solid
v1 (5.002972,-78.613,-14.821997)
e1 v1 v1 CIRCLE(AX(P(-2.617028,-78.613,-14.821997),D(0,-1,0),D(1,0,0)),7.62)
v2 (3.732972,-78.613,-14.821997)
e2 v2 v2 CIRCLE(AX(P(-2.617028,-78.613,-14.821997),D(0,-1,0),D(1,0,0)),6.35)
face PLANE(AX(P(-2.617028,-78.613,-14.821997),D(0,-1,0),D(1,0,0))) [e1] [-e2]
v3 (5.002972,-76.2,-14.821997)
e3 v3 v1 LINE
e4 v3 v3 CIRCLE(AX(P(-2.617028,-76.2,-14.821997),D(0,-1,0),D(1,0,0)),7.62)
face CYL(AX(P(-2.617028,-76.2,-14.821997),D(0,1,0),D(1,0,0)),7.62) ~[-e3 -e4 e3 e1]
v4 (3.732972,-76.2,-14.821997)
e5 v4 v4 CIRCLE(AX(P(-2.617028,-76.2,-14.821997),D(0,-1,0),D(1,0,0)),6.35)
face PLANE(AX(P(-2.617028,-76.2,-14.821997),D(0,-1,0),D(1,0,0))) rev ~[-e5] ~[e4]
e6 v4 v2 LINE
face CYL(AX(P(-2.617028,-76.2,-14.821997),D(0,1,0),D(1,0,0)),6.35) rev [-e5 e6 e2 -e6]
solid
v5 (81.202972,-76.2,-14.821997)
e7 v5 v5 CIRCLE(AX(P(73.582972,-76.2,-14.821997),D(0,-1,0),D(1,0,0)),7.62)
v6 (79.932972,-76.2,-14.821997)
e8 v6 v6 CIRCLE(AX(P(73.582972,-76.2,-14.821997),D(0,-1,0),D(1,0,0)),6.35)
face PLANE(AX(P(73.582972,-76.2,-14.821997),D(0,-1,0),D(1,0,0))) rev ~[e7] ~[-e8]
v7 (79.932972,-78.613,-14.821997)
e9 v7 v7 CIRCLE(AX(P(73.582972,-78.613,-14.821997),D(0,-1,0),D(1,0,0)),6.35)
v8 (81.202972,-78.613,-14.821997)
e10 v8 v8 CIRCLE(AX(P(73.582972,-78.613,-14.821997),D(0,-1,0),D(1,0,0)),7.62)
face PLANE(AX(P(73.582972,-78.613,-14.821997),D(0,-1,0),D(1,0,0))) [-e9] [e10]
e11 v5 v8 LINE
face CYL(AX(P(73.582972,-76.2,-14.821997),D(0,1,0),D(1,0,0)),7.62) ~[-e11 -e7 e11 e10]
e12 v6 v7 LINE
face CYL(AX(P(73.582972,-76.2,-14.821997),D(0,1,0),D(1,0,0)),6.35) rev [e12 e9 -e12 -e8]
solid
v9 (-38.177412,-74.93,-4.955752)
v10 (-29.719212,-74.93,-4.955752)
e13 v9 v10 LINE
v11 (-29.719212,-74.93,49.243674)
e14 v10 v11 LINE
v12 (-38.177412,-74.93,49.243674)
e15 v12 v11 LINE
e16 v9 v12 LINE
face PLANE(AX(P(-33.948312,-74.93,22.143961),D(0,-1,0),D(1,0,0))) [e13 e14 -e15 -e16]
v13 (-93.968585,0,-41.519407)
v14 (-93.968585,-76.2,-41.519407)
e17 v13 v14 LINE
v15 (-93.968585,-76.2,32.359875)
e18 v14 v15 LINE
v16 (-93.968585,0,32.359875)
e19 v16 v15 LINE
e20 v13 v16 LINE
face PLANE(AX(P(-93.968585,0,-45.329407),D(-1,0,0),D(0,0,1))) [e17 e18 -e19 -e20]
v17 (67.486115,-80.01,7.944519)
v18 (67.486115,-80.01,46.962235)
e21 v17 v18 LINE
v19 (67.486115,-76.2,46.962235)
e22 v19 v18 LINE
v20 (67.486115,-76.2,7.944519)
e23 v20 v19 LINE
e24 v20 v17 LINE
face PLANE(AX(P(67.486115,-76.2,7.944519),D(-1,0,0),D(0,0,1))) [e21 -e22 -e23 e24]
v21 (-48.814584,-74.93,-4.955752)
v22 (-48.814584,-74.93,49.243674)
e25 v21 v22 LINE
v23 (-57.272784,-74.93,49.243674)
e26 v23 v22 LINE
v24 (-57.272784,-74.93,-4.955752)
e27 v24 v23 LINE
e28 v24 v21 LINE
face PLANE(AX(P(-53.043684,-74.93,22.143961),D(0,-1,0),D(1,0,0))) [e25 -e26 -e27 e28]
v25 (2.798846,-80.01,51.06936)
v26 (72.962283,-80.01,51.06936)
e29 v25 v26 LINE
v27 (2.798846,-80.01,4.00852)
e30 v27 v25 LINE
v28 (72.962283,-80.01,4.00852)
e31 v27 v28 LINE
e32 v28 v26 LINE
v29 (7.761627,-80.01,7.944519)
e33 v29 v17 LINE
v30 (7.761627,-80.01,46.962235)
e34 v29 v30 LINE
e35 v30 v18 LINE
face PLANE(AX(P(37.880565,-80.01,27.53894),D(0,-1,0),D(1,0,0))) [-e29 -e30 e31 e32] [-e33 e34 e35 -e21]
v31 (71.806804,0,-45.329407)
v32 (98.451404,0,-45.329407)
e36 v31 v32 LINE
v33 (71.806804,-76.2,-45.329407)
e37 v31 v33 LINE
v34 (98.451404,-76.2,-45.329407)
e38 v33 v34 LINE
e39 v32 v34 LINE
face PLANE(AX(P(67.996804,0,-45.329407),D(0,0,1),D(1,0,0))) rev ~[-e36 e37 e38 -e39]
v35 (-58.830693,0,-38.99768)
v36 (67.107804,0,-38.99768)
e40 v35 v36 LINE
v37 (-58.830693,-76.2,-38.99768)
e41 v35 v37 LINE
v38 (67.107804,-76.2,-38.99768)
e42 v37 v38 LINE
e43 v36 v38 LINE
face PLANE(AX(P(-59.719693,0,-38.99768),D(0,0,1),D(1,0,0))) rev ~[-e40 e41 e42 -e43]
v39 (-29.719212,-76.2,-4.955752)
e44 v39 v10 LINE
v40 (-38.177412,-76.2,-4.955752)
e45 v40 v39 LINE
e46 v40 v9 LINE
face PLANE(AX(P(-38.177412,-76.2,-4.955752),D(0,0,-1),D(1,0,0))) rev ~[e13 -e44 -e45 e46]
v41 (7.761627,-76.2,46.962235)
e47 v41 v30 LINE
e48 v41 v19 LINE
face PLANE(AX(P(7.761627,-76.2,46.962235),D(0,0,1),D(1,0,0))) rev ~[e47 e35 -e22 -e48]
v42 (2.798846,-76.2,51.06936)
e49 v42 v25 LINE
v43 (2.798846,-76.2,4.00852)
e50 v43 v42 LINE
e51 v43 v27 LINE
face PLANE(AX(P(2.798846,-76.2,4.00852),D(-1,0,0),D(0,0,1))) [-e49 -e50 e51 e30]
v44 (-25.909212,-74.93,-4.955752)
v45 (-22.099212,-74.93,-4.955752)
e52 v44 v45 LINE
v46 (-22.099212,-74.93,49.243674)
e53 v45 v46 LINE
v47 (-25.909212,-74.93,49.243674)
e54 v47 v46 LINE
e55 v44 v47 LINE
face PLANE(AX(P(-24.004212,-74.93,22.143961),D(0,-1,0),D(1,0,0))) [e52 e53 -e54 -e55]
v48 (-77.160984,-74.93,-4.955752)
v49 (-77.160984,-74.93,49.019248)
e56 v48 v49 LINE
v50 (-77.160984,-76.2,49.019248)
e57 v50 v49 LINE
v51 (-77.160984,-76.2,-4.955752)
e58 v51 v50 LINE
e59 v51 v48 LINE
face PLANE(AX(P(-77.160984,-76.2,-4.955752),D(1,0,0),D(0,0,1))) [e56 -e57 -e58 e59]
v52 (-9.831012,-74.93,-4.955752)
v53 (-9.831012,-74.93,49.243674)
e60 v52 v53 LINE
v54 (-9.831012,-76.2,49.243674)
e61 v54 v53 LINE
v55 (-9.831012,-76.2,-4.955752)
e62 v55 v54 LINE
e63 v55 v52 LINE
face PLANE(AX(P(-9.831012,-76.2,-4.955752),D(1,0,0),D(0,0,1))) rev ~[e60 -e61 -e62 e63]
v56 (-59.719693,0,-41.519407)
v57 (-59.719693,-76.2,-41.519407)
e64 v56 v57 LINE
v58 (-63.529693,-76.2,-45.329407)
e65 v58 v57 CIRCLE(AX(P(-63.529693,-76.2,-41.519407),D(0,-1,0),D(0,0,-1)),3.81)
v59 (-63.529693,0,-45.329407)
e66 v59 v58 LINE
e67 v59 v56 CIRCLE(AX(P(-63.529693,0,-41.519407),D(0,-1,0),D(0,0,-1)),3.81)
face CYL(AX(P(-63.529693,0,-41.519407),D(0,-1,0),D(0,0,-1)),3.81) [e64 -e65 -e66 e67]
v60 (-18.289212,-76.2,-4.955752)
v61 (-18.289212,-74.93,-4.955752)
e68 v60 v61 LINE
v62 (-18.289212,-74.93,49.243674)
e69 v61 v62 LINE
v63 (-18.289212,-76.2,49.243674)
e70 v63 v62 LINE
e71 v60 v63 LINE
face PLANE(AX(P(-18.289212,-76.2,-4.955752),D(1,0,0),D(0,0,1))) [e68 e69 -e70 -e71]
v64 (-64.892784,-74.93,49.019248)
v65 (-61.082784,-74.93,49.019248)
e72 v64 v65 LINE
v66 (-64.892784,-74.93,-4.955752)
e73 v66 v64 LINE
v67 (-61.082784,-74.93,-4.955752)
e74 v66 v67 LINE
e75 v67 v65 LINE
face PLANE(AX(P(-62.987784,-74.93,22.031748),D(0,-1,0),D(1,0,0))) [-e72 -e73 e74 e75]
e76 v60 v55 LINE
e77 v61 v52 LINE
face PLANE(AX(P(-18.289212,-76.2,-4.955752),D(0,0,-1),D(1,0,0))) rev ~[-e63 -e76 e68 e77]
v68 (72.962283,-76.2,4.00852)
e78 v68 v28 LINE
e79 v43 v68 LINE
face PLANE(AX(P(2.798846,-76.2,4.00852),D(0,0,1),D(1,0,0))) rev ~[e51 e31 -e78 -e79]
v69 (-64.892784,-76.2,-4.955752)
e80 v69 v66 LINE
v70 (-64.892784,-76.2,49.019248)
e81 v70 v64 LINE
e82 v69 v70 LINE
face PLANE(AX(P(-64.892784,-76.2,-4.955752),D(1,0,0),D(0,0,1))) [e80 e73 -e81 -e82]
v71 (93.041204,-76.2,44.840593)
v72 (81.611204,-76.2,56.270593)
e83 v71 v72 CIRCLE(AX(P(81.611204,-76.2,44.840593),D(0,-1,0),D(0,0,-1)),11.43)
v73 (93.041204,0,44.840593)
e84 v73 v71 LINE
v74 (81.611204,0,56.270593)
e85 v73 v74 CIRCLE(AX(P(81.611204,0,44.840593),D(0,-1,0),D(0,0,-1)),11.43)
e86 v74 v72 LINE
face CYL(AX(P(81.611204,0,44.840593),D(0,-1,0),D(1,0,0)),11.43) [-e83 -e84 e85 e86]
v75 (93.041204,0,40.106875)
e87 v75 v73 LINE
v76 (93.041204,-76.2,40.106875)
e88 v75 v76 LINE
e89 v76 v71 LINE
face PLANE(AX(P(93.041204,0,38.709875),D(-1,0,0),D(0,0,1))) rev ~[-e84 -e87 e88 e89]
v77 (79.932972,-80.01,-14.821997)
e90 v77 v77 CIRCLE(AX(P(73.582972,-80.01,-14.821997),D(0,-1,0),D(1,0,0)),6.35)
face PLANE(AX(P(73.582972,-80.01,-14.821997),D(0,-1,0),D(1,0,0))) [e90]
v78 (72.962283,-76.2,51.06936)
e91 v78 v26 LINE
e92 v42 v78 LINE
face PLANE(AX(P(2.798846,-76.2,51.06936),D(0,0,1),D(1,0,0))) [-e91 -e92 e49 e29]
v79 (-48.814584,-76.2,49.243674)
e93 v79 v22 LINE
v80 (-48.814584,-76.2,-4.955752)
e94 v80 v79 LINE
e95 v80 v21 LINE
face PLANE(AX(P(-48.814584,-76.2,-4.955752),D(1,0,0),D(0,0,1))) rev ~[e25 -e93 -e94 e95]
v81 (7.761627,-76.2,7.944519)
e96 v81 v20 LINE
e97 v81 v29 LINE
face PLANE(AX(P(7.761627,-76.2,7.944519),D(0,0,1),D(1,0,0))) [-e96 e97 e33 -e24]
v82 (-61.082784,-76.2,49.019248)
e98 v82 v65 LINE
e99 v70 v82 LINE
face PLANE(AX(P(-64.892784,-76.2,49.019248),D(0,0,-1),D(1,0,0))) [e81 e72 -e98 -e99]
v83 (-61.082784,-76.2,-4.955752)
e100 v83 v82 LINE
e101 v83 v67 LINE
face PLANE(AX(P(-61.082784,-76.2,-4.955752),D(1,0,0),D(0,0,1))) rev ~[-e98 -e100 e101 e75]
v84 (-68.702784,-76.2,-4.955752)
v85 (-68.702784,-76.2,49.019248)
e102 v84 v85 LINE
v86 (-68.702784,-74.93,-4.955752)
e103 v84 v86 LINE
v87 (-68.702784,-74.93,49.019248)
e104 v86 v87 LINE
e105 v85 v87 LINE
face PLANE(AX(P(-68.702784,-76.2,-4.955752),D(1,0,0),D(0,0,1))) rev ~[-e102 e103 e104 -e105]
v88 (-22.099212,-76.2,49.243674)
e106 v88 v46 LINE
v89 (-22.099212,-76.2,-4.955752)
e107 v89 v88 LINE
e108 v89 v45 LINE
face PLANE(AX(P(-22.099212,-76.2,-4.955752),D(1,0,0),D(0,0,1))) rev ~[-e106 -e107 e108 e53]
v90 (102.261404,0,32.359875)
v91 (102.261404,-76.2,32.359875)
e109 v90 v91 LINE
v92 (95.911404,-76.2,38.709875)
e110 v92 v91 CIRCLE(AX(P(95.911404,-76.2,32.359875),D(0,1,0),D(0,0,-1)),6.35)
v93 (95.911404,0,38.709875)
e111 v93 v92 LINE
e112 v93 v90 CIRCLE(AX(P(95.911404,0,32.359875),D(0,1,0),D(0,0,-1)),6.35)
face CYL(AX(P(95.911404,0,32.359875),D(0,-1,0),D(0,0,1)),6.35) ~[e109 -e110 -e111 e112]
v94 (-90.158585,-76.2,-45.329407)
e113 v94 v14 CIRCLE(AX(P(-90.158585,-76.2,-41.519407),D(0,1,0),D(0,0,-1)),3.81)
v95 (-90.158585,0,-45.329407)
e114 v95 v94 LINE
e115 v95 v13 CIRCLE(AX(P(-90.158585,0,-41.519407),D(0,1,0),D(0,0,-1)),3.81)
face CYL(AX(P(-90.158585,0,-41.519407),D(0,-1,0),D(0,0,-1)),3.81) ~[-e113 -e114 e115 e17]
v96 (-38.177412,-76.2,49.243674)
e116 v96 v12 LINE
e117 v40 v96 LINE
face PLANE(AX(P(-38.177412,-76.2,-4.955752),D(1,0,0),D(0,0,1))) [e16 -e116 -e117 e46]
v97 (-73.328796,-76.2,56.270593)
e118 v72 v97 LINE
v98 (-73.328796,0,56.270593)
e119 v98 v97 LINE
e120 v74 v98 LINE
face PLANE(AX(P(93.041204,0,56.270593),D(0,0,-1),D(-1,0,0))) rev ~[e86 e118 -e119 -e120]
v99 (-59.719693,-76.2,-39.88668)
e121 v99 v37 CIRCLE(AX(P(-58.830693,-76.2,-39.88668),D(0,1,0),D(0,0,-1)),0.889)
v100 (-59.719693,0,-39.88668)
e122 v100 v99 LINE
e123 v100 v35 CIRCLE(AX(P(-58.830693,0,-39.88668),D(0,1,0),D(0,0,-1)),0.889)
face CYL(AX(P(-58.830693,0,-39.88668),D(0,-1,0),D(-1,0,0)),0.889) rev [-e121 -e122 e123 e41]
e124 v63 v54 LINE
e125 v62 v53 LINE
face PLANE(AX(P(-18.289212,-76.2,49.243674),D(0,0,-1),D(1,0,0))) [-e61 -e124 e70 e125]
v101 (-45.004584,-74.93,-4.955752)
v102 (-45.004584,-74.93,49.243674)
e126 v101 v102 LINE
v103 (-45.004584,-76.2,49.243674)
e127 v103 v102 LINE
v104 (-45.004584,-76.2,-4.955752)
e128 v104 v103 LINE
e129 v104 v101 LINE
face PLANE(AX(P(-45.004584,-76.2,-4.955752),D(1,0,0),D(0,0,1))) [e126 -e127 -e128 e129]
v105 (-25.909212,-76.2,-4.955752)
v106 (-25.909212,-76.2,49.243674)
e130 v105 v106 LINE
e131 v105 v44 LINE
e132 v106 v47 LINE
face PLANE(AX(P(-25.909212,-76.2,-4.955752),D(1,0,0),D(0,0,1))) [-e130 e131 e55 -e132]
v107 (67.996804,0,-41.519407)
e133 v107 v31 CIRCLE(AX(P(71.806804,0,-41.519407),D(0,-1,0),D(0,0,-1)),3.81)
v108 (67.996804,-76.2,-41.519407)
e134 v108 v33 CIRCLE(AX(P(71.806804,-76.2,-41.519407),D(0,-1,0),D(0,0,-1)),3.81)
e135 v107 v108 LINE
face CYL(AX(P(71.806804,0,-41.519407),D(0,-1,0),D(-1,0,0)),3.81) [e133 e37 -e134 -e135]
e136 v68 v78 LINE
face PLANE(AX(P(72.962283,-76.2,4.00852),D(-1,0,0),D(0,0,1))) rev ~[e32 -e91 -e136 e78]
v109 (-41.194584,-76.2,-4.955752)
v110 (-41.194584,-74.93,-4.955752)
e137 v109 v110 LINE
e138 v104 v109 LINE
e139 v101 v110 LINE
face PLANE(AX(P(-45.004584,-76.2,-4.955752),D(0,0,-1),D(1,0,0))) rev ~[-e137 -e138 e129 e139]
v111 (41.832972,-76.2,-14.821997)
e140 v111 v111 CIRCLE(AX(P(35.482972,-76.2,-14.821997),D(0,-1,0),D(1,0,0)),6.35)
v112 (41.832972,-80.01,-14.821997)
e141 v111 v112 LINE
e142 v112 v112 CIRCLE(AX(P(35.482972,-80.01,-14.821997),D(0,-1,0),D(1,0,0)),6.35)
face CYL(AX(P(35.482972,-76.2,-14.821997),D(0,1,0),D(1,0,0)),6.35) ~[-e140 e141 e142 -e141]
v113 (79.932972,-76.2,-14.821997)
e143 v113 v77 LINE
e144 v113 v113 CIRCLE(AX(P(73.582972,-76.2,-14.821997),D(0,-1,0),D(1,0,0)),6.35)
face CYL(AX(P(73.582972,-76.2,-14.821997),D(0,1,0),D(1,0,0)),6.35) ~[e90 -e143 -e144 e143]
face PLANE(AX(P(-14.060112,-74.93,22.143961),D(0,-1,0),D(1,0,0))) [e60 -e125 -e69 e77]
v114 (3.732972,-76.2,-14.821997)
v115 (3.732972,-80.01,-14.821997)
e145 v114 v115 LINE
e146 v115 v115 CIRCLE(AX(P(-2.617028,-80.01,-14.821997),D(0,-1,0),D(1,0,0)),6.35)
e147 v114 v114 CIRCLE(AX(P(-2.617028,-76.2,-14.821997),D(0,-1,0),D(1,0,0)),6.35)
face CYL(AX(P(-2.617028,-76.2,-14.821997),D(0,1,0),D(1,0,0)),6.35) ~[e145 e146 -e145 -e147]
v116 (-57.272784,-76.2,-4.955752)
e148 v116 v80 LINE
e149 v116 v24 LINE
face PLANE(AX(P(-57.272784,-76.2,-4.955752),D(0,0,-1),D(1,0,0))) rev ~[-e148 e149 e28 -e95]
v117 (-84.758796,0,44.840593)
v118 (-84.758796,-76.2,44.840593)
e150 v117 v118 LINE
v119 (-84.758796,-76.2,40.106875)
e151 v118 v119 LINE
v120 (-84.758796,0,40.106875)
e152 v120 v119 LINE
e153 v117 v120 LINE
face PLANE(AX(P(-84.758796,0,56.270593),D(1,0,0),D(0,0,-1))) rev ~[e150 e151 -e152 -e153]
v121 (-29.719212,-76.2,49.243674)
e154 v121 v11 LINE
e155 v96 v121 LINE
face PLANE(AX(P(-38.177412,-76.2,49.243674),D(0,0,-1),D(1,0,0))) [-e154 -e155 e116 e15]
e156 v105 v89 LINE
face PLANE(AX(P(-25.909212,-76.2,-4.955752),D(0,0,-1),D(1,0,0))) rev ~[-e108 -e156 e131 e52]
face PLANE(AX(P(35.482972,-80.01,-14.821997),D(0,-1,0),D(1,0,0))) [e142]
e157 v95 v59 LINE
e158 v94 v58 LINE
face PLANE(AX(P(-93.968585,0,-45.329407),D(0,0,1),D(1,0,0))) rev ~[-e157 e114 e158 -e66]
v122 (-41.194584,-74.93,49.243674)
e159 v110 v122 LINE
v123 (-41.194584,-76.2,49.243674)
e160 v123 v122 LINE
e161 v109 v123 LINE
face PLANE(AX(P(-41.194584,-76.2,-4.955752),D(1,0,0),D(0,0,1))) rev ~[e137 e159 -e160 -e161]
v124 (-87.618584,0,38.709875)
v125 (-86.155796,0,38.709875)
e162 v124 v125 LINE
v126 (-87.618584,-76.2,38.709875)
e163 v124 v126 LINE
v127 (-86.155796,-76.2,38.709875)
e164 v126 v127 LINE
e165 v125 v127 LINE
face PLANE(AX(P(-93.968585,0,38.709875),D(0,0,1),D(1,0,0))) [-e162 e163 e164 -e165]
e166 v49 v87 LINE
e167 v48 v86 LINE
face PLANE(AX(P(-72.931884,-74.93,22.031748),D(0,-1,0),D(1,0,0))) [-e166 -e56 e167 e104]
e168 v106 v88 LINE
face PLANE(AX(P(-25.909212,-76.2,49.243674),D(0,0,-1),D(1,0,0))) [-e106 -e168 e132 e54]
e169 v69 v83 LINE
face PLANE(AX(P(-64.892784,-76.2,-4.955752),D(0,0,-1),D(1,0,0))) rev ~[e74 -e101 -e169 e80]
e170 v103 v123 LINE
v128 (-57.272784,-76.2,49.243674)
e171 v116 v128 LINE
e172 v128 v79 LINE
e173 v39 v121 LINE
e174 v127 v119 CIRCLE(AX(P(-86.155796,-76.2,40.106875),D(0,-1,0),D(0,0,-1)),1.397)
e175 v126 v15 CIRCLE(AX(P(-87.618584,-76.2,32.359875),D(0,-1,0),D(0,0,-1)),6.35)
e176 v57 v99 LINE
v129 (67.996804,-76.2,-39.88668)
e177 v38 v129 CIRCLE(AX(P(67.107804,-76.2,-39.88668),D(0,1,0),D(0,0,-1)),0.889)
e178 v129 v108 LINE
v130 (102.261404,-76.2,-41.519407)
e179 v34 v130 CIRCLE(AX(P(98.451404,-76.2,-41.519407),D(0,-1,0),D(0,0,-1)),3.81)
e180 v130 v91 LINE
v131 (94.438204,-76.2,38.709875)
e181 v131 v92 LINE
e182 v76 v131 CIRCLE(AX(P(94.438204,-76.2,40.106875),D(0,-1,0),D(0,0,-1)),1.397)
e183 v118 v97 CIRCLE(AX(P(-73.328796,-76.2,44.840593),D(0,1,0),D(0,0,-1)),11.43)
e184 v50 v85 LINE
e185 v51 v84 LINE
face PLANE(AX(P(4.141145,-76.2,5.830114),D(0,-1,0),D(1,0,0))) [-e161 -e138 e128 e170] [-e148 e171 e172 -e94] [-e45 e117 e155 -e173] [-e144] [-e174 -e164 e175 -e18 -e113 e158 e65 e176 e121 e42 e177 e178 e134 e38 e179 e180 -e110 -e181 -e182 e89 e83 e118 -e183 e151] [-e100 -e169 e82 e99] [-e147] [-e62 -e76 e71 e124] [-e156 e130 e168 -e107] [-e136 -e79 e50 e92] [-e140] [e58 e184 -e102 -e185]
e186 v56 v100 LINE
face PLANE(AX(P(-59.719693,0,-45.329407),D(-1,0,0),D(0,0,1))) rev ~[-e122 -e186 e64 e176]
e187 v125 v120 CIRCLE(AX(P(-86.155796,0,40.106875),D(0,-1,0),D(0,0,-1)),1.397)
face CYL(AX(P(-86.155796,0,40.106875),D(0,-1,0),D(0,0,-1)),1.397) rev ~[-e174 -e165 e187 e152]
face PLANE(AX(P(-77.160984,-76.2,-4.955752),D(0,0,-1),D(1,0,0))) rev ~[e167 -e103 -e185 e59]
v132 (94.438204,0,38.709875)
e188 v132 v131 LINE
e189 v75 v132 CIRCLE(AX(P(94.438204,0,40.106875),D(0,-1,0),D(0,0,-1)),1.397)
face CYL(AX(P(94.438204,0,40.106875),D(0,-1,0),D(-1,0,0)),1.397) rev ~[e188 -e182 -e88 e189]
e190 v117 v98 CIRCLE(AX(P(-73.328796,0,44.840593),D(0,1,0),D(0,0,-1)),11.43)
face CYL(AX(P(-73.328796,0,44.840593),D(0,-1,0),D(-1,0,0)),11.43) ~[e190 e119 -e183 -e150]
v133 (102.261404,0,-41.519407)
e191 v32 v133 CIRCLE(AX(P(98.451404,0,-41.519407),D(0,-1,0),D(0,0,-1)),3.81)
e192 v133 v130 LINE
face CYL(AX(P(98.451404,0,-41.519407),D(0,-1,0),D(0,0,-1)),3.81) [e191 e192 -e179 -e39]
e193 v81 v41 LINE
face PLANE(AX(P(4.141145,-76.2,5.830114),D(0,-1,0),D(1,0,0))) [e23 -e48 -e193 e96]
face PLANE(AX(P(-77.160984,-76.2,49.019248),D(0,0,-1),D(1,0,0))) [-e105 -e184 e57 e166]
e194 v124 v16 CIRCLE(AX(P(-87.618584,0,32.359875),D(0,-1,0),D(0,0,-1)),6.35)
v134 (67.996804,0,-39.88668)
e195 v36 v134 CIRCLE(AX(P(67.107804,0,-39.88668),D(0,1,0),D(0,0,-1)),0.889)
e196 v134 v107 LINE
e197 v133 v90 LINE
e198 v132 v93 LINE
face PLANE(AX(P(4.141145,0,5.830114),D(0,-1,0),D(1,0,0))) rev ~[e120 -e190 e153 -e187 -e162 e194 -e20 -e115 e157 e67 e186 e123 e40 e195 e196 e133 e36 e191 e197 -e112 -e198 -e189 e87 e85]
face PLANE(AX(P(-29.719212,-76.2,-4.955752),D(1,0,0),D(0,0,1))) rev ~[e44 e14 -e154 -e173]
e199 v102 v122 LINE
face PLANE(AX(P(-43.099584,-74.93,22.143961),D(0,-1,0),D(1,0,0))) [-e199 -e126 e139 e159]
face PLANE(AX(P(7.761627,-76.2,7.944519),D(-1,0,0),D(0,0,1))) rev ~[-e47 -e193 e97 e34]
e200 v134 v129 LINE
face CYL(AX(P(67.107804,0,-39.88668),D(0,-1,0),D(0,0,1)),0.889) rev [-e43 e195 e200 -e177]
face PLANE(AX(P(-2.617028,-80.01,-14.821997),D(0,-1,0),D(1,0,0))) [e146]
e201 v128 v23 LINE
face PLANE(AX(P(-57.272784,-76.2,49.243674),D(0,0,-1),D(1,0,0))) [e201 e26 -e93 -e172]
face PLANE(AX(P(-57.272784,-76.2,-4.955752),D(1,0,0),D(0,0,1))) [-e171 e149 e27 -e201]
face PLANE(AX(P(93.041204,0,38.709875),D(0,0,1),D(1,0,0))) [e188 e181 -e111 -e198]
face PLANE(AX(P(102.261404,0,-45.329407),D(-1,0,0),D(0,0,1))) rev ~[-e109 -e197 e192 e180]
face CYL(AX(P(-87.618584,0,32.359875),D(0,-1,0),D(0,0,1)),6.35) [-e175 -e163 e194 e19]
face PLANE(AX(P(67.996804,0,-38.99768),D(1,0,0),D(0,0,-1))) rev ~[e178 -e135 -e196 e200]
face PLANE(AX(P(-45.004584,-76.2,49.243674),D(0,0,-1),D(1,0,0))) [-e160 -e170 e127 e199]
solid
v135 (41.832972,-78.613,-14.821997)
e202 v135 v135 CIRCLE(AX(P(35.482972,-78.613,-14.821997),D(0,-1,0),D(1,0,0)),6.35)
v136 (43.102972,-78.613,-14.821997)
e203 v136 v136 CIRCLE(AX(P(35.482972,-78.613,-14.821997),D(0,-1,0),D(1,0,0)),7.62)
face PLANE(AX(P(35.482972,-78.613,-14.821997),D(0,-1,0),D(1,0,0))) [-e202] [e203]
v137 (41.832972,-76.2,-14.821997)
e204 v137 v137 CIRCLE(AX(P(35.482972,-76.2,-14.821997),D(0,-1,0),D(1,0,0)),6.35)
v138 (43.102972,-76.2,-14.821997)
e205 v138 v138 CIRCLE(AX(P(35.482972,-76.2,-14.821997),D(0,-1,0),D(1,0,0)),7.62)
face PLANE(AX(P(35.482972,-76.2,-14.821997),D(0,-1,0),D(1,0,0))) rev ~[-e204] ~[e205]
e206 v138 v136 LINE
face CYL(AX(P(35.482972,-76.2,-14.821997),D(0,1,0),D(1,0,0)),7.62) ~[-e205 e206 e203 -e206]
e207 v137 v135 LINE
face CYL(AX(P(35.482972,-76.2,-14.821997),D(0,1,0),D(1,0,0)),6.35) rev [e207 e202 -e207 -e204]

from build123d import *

# Parameters (mm, degrees)
F0_W      = 9.209789
F0_H      = 84.039282
F0_W_2    = 9.2202
F1_DEPTH  = 76.2
F2_R      = 6.35
F3_DEPTH  = 3.81
F2_R_2    = 7.62
F4_DEPTH  = 2.413
F2_W      = 8.4582
F2_H      = 53.975
F2_W_2    = 3.81
F2_H_2    = 54.199426
F5_DEPTH  = 1.27
F6_R      = 6.35
F7_R      = 11.43
F8_R      = 3.81
F9_R      = 3.81
F10_R     = 1.397
F11_R     = 0.889
F12_W     = 70.163437
F12_H     = 47.06084
F12_W_2   = 59.724488
F12_H_2   = 39.017717
F13_DEPTH = 3.81


with BuildPart() as f1:
    # F0 (on Front) → F1 (new body)
    with BuildSketch(Plane.XZ):
        Polygon((93.041204, 56.270593), (-84.758796, 56.270593), (-84.758796, 38.709875), (-84.758796, -45.329407), (-59.719693, -45.329407), (-59.719693, -38.99768), (67.996804, -38.99768), (67.996804, -45.329407), (93.041204, -45.329407), (93.041204, 38.709875), align=None)
        with Locations((-89.36369, -3.309766)):
            Rectangle(F0_W, F0_H)
        with Locations((97.651304, -3.309766)):
            Rectangle(F0_W_2, F0_H)
    extrude(amount=F1_DEPTH)

    # F2 (on face) → F3 (join)
    with BuildSketch(Plane.XZ.offset(76.2)):
        with Locations((-2.617028, -14.821997)):
            Circle(F2_R)
        with Locations((35.482972, -14.821997)):
            Circle(F2_R)
        with Locations((73.582972, -14.821997)):
            Circle(F2_R)
    extrude(amount=F3_DEPTH)

    # F2 (on face) → F5 (cut)
    with BuildSketch(Plane.XZ.offset(76.2)):
        with Locations((-72.931884, 22.031748)):
            Rectangle(F2_W, F2_H)
        with Locations((-62.987784, 22.031748)):
            Rectangle(F2_W_2, F2_H)
        with Locations((-53.043684, 22.143961)):
            Rectangle(F2_W, F2_H_2)
        with Locations((-43.099584, 22.143961)):
            Rectangle(F2_W_2, F2_H_2)
        with Locations((-33.948312, 22.143961)):
            Rectangle(F2_W, F2_H_2)
        with Locations((-24.004212, 22.143961)):
            Rectangle(F2_W_2, F2_H_2)
        with Locations((-14.060112, 22.143961)):
            Rectangle(F2_W, F2_H_2)
    extrude(amount=-F5_DEPTH, mode=Mode.SUBTRACT)

    # F6
    f6_edges = [f1.edges().sort_by_distance(p)[0] for p in [
        (102.261404, -38.1, 38.709875),
        (-93.968585, -38.1, 38.709875),
    ]]
    fillet(f6_edges, radius=F6_R)

    # F7
    f7_edges = [f1.edges().sort_by_distance(p)[0] for p in [
        (93.041204, -38.1, 56.270593),
        (-84.758796, -38.1, 56.270593),
    ]]
    fillet(f7_edges, radius=F7_R)

    # F8
    f8_edges = [f1.edges().sort_by_distance(p)[0] for p in [
        (67.996804, -38.1, -45.329407),
        (-59.719693, -38.1, -45.329407),
    ]]
    fillet(f8_edges, radius=F8_R)

    # F9
    f9_edges = [f1.edges().sort_by_distance(p)[0] for p in [
        (102.261404, -38.1, -45.329407),
        (-93.968585, -38.1, -45.329407),
    ]]
    fillet(f9_edges, radius=F9_R)

    # F10
    f10_edges = [f1.edges().sort_by_distance(p)[0] for p in [
        (93.041204, -38.1, 38.709875),
        (-84.758796, -38.1, 38.709875),
    ]]
    fillet(f10_edges, radius=F10_R)

    # F11
    f11_edges = [f1.edges().sort_by_distance(p)[0] for p in [
        (67.996804, -38.1, -38.99768),
        (-59.719693, -38.1, -38.99768),
    ]]
    fillet(f11_edges, radius=F11_R)

    # F12 (on face) → F13 (join)
    with BuildSketch(Plane.XZ.offset(76.2)):
        with Locations((37.880565, 27.53894)):
            Rectangle(F12_W, F12_H)
        with Locations((37.623871, 27.453377)):
            Rectangle(F12_W_2, F12_H_2, mode=Mode.SUBTRACT)
    extrude(amount=F13_DEPTH)


with BuildPart() as f4:
    # F2 (on face) → F4 (new body)
    with BuildSketch(Plane.XZ.offset(76.2)):
        with Locations((-2.617028, -14.821997)):
            Circle(F2_R_2)
        with Locations((-2.617028, -14.821997)):
            Circle(F2_R, mode=Mode.SUBTRACT)
        with Locations((35.482972, -14.821997)):
            Circle(F2_R_2)
        with Locations((35.482972, -14.821997)):
            Circle(F2_R, mode=Mode.SUBTRACT)
        with Locations((73.582972, -14.821997)):
            Circle(F2_R_2)
        with Locations((73.582972, -14.821997)):
            Circle(F2_R, mode=Mode.SUBTRACT)
    extrude(amount=F4_DEPTH)


solid = Compound([f1.part, f4.part])
